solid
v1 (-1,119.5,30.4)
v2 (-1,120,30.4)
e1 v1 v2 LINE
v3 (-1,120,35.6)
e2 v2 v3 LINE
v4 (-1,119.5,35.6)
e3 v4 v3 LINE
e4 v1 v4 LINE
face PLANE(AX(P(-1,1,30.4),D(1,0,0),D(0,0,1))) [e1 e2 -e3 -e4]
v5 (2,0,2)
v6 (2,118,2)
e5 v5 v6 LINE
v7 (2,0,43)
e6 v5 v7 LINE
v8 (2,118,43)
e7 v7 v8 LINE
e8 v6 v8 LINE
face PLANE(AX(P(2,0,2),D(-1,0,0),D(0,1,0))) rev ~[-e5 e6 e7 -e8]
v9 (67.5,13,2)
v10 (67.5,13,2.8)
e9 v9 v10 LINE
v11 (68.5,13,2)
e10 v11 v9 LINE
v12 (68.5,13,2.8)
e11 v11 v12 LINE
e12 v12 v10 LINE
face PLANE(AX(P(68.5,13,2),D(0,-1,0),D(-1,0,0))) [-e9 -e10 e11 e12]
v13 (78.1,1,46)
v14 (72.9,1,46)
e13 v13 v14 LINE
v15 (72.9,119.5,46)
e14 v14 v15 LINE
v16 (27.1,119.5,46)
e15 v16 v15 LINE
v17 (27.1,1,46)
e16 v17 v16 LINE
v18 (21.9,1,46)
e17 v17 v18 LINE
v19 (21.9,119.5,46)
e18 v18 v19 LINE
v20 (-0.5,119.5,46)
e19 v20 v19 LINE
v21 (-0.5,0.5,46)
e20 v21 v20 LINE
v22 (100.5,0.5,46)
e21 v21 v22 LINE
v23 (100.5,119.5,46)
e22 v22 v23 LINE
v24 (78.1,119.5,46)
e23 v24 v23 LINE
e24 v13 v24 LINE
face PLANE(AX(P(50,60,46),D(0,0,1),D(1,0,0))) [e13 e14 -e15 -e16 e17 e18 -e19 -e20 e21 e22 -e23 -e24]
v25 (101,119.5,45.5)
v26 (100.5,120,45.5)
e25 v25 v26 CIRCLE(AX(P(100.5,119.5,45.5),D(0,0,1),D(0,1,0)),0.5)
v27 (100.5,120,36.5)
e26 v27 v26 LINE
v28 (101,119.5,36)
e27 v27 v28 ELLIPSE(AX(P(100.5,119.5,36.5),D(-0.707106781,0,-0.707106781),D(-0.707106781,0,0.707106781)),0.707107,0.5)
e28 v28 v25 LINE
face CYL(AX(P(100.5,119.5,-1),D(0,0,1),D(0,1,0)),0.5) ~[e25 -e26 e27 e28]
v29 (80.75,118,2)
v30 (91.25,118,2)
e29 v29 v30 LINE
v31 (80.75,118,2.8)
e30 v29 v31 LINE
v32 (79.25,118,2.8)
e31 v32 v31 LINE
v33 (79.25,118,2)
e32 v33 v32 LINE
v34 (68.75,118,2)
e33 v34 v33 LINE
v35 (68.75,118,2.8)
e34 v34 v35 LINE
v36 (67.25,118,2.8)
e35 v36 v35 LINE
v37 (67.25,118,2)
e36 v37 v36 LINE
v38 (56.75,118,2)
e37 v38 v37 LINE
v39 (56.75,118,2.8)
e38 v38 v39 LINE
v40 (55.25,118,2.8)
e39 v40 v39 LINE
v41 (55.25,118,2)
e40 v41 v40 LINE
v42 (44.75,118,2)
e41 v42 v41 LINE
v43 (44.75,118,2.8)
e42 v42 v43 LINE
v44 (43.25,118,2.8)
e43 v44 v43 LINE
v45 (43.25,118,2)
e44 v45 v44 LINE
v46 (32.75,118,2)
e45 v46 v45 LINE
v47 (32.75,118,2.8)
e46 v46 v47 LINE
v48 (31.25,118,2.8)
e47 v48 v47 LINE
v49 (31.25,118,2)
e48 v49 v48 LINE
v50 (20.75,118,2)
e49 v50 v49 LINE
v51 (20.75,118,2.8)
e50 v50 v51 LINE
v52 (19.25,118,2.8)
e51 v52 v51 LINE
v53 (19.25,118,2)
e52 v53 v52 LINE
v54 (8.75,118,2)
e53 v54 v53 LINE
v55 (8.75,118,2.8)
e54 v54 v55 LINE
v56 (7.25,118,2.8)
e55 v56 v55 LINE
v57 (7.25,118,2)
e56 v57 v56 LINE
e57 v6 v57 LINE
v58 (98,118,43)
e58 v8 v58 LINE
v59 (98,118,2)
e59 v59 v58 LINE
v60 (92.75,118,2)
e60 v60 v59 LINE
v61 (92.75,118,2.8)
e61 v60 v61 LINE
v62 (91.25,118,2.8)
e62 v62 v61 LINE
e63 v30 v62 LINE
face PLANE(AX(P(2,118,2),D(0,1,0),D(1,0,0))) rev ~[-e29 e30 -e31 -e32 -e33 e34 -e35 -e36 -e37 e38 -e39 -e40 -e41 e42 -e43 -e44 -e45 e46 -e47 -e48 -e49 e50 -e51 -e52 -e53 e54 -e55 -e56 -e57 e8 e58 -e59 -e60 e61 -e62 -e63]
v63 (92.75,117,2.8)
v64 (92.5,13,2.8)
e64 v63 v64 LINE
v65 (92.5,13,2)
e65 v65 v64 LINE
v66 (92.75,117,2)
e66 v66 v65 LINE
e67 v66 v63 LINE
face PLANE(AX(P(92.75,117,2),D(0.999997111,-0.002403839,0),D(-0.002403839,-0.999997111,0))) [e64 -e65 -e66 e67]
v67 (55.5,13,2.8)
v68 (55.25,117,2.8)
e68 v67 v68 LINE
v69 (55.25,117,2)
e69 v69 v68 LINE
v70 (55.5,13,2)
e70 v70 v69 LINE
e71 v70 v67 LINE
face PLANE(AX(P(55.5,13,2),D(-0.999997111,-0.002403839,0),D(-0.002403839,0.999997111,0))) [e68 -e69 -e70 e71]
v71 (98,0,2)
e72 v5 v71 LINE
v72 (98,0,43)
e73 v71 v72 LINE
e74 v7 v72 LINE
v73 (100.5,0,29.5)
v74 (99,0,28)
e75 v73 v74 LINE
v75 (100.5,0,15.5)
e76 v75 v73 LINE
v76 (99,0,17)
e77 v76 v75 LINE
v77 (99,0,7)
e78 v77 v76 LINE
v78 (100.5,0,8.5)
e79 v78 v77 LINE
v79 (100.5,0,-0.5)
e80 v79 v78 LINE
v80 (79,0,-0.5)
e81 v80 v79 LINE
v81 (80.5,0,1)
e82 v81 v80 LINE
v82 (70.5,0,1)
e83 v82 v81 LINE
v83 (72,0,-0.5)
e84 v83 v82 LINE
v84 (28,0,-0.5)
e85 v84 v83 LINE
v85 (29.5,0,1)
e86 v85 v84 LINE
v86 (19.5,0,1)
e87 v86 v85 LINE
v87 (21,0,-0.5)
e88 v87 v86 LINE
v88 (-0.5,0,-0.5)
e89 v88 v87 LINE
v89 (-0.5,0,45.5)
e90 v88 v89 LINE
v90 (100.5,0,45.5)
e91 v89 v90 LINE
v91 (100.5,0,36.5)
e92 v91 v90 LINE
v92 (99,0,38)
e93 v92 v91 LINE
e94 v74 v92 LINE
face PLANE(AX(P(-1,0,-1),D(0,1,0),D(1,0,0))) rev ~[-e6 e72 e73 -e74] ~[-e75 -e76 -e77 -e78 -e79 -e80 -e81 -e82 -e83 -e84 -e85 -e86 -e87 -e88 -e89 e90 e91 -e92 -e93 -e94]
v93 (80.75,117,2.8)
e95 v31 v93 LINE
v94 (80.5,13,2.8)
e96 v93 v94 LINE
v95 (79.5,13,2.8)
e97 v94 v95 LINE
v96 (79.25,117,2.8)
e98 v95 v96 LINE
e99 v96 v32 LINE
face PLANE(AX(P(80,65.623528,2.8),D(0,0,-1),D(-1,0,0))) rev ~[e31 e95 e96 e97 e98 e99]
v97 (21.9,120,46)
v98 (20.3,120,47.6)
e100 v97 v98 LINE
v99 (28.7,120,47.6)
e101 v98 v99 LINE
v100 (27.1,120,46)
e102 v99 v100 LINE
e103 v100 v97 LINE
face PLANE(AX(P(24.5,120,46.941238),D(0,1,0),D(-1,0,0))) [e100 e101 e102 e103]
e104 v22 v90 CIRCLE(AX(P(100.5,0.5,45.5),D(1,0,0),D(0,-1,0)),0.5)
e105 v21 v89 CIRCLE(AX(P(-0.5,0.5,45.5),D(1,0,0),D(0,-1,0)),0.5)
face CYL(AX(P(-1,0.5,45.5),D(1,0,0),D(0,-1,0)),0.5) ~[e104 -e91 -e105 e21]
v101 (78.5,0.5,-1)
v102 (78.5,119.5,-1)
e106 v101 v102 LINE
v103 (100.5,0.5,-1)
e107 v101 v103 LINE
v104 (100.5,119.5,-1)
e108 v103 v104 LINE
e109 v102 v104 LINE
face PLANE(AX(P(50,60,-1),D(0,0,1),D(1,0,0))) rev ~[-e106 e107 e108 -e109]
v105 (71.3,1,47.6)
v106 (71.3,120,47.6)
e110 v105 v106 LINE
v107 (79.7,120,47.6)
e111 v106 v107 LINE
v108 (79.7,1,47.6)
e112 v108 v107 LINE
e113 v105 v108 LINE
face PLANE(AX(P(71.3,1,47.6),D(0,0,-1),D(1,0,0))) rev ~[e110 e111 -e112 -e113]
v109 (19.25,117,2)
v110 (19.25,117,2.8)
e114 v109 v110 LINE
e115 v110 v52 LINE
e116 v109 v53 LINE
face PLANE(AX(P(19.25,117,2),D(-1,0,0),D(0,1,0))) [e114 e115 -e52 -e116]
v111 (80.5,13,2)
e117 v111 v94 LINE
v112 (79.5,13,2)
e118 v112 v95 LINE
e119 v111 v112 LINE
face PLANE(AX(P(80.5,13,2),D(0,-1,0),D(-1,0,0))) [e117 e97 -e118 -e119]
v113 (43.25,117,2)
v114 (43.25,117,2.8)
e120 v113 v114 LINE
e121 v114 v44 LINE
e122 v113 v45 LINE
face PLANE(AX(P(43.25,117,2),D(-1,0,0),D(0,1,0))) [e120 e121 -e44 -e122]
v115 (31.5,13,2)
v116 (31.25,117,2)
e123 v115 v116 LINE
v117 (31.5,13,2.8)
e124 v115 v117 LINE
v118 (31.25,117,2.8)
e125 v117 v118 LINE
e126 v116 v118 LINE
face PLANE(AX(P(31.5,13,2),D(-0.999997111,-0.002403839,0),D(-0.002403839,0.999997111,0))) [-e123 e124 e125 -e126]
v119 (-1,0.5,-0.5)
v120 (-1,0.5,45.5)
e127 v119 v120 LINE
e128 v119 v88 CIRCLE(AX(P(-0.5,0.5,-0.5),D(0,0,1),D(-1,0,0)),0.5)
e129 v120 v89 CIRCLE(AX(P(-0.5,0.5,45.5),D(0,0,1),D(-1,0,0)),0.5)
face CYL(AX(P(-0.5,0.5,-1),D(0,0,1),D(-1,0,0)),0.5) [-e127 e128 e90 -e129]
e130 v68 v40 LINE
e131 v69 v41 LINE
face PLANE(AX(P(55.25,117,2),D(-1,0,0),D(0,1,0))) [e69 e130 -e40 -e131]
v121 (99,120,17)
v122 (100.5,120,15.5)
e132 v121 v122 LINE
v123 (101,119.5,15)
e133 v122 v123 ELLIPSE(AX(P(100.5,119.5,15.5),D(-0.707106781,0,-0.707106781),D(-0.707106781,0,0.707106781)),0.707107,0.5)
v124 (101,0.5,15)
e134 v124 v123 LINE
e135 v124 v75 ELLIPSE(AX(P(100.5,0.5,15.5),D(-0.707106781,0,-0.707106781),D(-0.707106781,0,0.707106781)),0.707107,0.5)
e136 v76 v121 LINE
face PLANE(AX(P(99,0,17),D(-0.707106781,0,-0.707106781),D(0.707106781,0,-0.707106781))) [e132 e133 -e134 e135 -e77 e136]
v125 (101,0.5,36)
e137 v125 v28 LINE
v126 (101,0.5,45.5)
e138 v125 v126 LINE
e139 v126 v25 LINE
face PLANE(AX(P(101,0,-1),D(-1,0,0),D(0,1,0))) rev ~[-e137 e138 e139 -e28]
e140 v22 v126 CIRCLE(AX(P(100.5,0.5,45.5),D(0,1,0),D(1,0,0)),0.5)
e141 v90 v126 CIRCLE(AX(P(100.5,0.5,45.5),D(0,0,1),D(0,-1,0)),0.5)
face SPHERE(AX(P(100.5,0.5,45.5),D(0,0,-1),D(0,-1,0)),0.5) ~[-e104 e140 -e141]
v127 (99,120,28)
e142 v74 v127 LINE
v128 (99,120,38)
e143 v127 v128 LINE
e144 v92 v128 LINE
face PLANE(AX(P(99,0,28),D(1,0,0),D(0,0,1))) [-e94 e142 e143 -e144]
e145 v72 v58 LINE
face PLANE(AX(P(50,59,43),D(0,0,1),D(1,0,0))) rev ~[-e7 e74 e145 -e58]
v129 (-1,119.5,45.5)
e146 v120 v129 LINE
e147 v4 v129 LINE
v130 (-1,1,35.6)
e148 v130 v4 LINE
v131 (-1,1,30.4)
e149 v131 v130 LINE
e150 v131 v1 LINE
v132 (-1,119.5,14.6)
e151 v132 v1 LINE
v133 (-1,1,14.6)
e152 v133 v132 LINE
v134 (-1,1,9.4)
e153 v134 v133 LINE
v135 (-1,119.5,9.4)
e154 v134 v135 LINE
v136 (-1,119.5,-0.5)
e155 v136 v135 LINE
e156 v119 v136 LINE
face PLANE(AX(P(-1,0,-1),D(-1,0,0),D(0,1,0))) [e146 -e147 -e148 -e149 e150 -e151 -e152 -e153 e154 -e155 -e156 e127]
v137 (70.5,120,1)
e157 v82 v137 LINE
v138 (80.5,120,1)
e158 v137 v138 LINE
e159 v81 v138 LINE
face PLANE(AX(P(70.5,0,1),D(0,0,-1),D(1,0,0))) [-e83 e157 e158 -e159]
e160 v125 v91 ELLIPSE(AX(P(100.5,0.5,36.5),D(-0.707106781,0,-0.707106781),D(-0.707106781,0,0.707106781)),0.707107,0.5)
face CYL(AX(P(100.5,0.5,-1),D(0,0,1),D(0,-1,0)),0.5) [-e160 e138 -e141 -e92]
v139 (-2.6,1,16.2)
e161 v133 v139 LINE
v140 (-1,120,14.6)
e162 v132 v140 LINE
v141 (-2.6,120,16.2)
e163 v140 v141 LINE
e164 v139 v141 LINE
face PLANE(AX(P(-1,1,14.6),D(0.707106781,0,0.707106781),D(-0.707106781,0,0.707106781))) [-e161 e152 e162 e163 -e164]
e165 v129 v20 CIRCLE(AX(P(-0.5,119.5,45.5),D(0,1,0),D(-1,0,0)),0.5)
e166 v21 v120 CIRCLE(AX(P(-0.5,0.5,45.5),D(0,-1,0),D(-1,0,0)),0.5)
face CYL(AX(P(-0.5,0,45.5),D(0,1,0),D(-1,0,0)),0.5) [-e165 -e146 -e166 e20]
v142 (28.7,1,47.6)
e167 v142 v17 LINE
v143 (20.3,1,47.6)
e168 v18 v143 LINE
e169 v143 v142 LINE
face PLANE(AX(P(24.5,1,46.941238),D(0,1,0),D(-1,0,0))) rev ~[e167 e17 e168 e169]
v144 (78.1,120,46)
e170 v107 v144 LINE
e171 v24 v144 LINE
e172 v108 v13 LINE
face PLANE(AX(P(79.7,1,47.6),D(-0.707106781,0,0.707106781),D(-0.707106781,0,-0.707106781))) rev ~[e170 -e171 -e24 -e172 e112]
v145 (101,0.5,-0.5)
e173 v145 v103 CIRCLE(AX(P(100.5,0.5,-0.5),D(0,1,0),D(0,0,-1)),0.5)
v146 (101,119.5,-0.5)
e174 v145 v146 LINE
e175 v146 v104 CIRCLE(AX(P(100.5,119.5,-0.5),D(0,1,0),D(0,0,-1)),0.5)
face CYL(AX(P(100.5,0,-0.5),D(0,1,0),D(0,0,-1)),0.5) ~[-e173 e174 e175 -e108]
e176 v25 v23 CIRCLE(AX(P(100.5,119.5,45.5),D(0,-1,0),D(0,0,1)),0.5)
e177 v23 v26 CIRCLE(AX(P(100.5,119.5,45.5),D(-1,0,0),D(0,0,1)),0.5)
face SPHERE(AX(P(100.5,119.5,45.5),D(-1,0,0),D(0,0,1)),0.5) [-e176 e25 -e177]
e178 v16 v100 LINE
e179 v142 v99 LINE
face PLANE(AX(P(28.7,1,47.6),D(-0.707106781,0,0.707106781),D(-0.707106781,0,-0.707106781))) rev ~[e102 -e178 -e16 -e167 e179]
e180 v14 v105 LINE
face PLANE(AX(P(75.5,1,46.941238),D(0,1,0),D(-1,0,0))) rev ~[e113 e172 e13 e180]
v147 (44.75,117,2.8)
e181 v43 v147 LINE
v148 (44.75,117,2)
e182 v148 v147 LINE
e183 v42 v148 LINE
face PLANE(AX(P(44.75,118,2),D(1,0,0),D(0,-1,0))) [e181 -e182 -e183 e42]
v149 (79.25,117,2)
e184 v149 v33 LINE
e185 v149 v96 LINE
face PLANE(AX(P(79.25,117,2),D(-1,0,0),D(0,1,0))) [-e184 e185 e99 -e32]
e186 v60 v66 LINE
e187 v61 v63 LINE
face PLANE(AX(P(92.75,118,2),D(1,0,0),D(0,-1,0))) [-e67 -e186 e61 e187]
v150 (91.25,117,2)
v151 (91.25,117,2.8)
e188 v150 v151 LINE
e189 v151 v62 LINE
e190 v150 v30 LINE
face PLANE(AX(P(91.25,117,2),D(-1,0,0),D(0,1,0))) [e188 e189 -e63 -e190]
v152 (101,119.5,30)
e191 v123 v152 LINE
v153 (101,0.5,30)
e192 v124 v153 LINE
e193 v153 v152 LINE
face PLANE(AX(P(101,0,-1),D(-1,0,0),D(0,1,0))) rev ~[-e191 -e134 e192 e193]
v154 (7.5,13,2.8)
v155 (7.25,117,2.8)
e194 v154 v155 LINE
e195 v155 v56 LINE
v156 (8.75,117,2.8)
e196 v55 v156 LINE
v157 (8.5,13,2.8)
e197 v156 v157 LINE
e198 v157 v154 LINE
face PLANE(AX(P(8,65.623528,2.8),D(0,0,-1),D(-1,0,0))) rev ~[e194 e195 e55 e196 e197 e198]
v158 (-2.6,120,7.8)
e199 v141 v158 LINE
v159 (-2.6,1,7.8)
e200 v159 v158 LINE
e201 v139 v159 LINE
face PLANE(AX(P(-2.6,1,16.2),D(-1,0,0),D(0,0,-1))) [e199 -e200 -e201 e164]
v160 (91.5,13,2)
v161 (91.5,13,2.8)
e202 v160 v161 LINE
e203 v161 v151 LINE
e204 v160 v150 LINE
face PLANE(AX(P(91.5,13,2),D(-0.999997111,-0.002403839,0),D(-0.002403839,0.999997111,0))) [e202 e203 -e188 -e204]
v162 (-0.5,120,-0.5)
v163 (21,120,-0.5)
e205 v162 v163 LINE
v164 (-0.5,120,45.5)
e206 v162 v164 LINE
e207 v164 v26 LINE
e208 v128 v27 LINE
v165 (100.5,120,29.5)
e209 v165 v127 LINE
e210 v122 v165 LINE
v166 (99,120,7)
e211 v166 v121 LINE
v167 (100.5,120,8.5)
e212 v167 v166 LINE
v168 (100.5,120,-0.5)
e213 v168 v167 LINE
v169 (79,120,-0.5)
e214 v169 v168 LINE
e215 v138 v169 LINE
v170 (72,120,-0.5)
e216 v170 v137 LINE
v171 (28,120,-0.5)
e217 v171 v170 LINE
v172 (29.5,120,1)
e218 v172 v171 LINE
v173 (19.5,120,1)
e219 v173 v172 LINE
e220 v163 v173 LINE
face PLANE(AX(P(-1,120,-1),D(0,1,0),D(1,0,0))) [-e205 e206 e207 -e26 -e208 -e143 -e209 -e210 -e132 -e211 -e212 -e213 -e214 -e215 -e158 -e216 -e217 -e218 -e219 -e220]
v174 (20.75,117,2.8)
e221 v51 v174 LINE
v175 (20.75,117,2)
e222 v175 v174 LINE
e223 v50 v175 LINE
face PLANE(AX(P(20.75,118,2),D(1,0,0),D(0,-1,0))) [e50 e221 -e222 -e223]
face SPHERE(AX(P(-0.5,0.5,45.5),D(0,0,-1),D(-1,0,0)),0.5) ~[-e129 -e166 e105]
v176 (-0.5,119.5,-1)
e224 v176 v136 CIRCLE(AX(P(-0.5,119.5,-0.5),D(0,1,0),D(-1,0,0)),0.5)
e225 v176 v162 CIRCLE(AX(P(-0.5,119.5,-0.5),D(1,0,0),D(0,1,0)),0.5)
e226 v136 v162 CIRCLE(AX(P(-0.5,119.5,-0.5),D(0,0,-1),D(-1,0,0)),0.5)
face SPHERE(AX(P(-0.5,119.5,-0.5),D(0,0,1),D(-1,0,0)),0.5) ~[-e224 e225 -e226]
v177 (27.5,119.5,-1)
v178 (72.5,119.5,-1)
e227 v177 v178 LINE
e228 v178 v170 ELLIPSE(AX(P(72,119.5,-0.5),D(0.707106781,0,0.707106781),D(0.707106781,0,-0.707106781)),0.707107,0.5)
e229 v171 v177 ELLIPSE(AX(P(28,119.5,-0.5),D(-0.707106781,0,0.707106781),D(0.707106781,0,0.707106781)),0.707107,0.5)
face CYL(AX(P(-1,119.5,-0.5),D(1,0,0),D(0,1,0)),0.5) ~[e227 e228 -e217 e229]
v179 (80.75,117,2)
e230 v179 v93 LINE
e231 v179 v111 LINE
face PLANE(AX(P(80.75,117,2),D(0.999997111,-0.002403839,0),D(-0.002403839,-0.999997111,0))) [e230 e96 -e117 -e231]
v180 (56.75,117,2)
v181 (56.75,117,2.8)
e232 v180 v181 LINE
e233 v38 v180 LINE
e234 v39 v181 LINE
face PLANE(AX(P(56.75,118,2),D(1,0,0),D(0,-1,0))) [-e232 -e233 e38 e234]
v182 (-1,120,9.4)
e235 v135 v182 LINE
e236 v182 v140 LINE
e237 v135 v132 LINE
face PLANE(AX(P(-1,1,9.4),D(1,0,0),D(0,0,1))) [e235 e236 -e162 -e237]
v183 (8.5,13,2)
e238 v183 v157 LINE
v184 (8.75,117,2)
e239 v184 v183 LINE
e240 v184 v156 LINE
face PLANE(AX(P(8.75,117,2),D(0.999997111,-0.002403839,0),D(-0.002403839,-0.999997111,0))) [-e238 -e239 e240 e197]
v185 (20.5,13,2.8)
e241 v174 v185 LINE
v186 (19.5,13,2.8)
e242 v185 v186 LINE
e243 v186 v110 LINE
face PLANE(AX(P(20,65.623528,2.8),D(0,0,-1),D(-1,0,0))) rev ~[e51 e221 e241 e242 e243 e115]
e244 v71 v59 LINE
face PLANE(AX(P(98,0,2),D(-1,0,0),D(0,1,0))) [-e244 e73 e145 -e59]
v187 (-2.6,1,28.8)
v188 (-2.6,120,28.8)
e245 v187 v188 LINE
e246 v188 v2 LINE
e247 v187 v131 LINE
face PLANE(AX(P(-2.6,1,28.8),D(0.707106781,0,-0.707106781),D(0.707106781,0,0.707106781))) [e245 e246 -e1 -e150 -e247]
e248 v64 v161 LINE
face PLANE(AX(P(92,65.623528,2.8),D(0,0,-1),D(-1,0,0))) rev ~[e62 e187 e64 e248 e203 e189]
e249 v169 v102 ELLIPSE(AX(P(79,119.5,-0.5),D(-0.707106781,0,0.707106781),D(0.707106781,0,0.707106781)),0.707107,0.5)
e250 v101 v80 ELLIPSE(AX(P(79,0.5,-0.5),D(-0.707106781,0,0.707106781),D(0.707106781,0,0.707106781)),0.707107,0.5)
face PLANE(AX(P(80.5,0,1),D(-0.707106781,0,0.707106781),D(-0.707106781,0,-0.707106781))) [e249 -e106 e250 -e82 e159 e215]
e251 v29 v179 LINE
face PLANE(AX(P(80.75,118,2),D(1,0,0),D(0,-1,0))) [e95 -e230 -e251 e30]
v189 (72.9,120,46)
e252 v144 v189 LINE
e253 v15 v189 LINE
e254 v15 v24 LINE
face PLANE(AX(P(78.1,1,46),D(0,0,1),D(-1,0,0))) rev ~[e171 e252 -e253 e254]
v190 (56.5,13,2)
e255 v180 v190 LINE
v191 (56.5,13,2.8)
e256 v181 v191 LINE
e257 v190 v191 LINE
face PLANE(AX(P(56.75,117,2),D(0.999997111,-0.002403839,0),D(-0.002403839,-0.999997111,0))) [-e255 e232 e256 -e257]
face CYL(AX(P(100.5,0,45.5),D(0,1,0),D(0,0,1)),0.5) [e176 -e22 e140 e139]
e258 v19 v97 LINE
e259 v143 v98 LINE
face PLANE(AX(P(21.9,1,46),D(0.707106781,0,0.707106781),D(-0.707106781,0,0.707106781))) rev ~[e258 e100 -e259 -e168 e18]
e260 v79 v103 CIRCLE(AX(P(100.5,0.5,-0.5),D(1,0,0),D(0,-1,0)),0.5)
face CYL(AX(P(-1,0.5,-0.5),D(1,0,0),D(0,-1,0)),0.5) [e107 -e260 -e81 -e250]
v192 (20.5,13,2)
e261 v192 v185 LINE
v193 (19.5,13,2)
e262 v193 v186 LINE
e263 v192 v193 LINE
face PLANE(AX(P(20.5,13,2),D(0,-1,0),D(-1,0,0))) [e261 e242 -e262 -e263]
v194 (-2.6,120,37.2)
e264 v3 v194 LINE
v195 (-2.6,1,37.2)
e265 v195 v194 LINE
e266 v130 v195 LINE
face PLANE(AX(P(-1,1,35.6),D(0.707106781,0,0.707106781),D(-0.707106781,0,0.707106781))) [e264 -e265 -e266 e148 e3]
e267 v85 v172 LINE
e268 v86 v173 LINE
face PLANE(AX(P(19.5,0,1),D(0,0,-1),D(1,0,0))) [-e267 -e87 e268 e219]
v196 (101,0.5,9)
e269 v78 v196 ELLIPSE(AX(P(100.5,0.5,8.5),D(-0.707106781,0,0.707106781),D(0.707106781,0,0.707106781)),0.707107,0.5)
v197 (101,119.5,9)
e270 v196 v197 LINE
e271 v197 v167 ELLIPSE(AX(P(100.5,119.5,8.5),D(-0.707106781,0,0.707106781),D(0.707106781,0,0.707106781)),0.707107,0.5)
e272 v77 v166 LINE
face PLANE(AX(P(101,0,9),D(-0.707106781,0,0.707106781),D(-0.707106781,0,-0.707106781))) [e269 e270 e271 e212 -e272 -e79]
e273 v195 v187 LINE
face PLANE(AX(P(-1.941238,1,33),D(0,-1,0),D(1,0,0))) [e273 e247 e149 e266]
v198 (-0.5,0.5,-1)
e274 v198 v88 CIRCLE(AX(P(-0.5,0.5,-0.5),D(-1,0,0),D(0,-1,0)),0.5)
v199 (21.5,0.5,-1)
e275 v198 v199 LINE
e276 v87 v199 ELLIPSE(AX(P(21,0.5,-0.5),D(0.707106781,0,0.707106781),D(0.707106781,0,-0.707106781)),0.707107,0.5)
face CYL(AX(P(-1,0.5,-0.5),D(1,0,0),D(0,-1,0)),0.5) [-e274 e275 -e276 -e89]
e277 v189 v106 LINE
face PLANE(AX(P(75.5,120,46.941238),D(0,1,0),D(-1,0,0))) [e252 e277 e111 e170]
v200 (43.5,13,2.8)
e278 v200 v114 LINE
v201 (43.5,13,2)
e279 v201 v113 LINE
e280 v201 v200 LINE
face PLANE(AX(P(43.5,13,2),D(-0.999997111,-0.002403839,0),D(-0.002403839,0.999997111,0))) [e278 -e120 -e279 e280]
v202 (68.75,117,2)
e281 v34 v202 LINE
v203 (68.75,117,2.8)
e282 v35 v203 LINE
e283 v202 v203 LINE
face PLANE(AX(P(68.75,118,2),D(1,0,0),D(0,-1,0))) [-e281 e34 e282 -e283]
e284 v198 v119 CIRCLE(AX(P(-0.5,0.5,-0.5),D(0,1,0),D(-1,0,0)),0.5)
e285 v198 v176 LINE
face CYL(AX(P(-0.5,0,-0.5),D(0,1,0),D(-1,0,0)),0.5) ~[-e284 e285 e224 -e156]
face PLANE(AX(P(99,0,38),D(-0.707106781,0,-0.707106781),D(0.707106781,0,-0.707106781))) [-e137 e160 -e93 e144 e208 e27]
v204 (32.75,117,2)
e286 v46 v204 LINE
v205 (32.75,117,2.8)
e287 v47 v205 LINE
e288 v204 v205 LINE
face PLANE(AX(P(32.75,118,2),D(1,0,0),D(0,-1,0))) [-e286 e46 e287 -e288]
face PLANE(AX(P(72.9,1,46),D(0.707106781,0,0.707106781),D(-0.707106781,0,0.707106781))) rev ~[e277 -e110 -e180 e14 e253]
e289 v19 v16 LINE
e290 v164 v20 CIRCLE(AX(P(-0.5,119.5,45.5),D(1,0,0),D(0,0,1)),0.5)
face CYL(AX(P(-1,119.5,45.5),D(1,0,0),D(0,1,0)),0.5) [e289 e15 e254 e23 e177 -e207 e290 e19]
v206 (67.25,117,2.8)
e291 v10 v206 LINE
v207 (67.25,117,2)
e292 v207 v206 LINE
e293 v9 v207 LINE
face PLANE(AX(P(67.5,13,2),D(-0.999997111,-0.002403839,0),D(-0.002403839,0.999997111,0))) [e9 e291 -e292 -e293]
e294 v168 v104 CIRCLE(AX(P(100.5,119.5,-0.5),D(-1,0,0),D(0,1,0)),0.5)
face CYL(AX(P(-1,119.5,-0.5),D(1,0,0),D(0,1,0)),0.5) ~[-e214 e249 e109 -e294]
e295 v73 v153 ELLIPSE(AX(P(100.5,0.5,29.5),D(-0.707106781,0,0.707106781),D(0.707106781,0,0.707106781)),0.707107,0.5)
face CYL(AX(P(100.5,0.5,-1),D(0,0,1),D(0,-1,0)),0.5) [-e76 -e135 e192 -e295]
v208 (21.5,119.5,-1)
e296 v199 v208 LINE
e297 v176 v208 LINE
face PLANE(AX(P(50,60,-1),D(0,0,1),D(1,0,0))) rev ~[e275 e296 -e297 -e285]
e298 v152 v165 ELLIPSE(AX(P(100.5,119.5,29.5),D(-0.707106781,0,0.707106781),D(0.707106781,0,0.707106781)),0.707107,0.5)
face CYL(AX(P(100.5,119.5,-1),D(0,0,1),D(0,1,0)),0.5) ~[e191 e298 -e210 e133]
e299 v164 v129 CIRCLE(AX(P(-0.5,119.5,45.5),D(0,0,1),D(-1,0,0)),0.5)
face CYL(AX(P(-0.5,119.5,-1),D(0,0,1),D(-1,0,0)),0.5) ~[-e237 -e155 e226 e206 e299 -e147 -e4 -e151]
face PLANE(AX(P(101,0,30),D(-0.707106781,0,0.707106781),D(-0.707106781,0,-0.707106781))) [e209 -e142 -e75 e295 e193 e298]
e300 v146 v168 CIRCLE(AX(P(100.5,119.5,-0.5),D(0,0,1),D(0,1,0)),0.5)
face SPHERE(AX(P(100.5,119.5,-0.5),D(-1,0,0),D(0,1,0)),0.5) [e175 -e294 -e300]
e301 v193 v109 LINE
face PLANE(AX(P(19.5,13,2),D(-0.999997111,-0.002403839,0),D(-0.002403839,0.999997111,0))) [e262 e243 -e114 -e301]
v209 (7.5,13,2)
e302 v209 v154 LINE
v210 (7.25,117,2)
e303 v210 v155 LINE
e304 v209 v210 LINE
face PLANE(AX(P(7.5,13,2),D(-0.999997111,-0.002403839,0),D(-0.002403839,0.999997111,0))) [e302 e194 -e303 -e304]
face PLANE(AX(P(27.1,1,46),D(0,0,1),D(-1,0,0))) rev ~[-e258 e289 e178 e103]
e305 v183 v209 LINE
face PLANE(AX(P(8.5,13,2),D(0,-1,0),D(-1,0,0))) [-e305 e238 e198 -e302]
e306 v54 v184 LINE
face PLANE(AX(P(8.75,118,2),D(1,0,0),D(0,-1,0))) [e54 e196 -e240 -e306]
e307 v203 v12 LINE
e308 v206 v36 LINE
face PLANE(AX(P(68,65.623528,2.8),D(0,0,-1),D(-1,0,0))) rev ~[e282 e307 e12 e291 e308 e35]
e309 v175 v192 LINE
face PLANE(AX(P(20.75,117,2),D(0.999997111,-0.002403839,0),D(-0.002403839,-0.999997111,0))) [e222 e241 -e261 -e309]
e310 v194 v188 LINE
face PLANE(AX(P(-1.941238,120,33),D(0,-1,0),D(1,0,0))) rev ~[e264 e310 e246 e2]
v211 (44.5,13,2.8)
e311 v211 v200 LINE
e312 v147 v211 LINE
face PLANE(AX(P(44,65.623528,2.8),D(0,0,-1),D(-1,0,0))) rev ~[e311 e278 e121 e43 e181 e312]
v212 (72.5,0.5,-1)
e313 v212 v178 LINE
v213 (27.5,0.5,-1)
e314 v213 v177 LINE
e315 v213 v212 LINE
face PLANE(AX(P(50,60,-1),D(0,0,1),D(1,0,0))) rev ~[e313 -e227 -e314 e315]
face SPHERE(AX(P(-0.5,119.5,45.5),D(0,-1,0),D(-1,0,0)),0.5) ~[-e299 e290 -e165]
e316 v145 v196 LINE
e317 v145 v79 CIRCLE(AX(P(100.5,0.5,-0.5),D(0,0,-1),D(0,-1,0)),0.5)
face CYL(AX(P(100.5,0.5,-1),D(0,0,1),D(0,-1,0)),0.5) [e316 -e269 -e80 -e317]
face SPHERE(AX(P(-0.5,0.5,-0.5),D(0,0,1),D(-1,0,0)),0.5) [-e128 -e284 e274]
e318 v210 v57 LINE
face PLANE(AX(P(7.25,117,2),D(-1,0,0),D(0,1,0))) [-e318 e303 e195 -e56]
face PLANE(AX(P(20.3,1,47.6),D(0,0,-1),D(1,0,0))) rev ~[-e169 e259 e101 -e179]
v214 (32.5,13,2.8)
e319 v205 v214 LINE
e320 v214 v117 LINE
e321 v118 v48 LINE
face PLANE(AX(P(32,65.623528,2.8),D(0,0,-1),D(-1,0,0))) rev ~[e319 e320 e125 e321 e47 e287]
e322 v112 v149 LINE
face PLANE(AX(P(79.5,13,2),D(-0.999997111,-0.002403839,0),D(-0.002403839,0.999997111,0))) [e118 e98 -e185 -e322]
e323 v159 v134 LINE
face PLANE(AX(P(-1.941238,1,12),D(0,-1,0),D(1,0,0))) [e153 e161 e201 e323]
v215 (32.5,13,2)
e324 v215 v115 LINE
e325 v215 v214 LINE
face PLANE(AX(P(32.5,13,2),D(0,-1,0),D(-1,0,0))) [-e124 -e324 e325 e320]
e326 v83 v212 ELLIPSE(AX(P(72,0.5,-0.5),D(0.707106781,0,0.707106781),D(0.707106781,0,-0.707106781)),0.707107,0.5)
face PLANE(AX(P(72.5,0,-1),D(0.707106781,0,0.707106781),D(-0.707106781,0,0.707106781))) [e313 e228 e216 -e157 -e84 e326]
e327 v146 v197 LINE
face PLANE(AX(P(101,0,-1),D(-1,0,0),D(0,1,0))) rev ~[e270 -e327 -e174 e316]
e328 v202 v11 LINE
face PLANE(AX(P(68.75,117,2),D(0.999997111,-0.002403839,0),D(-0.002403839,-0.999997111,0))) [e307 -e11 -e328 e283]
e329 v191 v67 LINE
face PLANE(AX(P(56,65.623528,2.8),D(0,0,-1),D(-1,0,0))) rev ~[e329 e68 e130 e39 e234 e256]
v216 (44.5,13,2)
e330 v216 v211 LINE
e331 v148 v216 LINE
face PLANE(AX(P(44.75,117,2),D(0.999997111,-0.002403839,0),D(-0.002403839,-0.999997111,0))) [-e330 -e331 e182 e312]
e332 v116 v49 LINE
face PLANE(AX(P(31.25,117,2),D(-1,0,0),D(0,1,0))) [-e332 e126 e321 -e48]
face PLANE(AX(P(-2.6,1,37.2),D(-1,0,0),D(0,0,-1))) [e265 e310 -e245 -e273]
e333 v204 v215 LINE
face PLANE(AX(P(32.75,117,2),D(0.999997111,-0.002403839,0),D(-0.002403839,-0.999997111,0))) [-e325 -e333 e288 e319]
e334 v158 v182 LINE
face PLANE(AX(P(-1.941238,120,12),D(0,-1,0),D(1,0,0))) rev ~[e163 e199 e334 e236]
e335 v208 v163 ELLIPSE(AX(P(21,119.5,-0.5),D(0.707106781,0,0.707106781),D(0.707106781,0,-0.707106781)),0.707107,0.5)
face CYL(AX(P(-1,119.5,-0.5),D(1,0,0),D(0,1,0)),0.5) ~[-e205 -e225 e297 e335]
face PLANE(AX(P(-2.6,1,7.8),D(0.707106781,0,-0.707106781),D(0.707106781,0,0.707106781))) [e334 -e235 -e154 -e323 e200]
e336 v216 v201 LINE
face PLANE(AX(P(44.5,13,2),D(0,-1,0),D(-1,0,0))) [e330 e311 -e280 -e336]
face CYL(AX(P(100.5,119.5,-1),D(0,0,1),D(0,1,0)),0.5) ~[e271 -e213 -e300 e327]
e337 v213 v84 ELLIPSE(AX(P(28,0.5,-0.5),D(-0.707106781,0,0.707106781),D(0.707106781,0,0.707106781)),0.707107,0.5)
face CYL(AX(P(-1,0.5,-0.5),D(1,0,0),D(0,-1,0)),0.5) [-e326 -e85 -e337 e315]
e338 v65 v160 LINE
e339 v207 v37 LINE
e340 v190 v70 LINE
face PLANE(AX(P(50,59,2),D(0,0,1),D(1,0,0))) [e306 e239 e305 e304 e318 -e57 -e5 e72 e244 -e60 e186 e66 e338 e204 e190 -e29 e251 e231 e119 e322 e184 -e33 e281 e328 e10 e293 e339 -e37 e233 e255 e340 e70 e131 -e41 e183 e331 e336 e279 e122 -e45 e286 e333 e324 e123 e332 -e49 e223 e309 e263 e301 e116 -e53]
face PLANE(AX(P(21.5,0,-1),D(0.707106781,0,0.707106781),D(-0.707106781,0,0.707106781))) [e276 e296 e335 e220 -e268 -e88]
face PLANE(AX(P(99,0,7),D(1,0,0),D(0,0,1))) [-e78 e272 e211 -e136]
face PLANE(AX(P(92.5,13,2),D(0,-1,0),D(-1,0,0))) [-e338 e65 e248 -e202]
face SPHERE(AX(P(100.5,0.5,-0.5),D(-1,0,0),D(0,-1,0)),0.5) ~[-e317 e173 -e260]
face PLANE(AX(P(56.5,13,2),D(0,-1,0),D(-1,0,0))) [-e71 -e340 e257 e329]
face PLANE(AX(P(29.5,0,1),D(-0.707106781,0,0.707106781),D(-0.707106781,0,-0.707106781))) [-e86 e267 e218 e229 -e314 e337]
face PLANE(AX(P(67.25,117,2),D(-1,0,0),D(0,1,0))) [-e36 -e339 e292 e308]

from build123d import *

# Parameters (mm, degrees)
EXTRUDE004_DEPTH                     = 120
EXTRUDE004_ONTO_SKETCH004_ROLL_ANGLE = 90
ARRAY005_X_COUNT                     = 2
ARRAY005_X_PITCH                     = 51
EXTRUDE001_DEPTH                     = 120
EXTRUDE001_ONTO_SKETCH001_ROLL_ANGLE = 90
ARRAY003_Z_COUNT                     = 2
ARRAY003_Z_PITCH                     = 21
BOX001_W                             = 96
BOX001_H                             = 118
BOX001_DEPTH                         = 41
BOX_W                                = 102
BOX_H                                = 120
BOX_DEPTH                            = 47
FILLET_R                             = 0.5
EXTRUDE003_DEPTH                     = 119
EXTRUDE003_ONTO_SKETCH003_ROLL_ANGLE = 90
ARRAY_X_COUNT                        = 2
ARRAY_X_PITCH                        = 51
EXTRUDE002_DEPTH                     = 119
EXTRUDE002_ONTO_SKETCH002_ROLL_ANGLE = 90
ARRAY004_Z_COUNT                     = 2
ARRAY004_Z_PITCH                     = 21
EXTRUDE_DEPTH                        = 0.8
ARRAY002_X_COUNT                     = 8
ARRAY002_X_PITCH                     = 12


with BuildPart() as bottomsideguidearray:
    # Sketch004 as drawn → Extrude004 (new)
    with BuildSketch(Plane.XY):
        Polygon((-6, 1), (4, 1), (2, -1), (-4, -1), align=None)
    extrude(amount=-EXTRUDE004_DEPTH)


with BuildPart() as bottomsideguidearray_1:
    # Extrude004 onto Sketch004 roll: moved
    add(bottomsideguidearray.part.rotate(Axis((0, 0, 0), (1, 0, 0)), EXTRUDE004_ONTO_SKETCH004_ROLL_ANGLE))


with BuildPart() as bottomsideguidearray_2:
    # Extrude004 onto Sketch004 placement: moved
    add(bottomsideguidearray_1.part)


with BuildPart() as bottomsideguidearray_3:
    # Extrude004 placement: moved
    add(bottomsideguidearray_2.part.moved(Location((25.5, 0, 0))))

    # Array005 X: BottomSideGuideArray ×2


with BuildPart() as bottomsideguidearray_4:
    add(bottomsideguidearray_3.part)
    with Locations(*[(i * ARRAY005_X_PITCH, 0, 0) for i in range(1, ARRAY005_X_COUNT)]):
        add(bottomsideguidearray_3.part)


with BuildPart() as guidegaps:
    # Sketch001 as drawn → Extrude001 (new)
    with BuildSketch(Plane.XY):
        Polygon((0, 0), (0, 10), (2, 8), (2, 2), align=None)
    extrude(amount=-EXTRUDE001_DEPTH)


with BuildPart() as guidegaps_1:
    # Extrude001 onto Sketch001 roll: moved
    add(guidegaps.part.rotate(Axis((0, 0, 0), (1, 0, 0)), EXTRUDE001_ONTO_SKETCH001_ROLL_ANGLE))


with BuildPart() as guidegaps_2:
    # Extrude001 onto Sketch001 placement: moved
    add(guidegaps_1.part.moved(Location((99, 0, 7))))

    # Array003 Z: GuideGaps ×2


with BuildPart() as guidegaps_3:
    add(guidegaps_2.part)
    with Locations(*[(0, 0, i * ARRAY003_Z_PITCH) for i in range(1, ARRAY003_Z_COUNT)]):
        add(guidegaps_2.part)

    # Fusion003: union BottomSideGuideArray
    add(bottomsideguidearray_4.part)


with BuildPart() as inner_box:
    # Box001 → Box001 (new body)
    with BuildSketch(Plane(origin=(2, 0, 2), x_dir=(1, 0, 0), z_dir=(0, 0, 1))):
        with Locations((48, 59)):
            Rectangle(BOX001_W, BOX001_H)
    extrude(amount=BOX001_DEPTH)


with BuildPart() as filletedcase:
    # Box → Box (new body)
    with BuildSketch(Plane(origin=(-1, 0, -1), x_dir=(1, 0, 0), z_dir=(0, 0, 1))):
        with Locations((51, 60)):
            Rectangle(BOX_W, BOX_H)
    extrude(amount=BOX_DEPTH)

    # Cut: cut Inner Box
    add(inner_box.part, mode=Mode.SUBTRACT)

    # Fillet
    fillet_edges = [filletedcase.edges().sort_by_distance(p)[0] for p in [
        (-1, 0, 22.5),
        (-1, 60, 46),
        (-1, 120, 22.5),
        (-1, 60, -1),
        (50, 0, -1),
        (101, 0, 22.5),
        (50, 0, 46),
        (50, 120, 46),
        (101, 60, 46),
        (50, 120, -1),
        (101, 120, 22.5),
        (101, 60, -1),
    ]]
    fillet(fillet_edges, radius=FILLET_R)


with BuildPart() as topsideguidearray:
    # Sketch003 as drawn → Extrude003 (new)
    with BuildSketch(Plane.XY):
        Polygon((-5.2, 47.6), (3.2, 47.6), (1.6, 46), (-3.6, 46), align=None)
    extrude(amount=-EXTRUDE003_DEPTH)


with BuildPart() as topsideguidearray_1:
    # Extrude003 onto Sketch003 roll: moved
    add(topsideguidearray.part.rotate(Axis((0, 0, 0), (1, 0, 0)), EXTRUDE003_ONTO_SKETCH003_ROLL_ANGLE))


with BuildPart() as topsideguidearray_2:
    # Extrude003 onto Sketch003 placement: moved
    add(topsideguidearray_1.part)


with BuildPart() as topsideguidearray_3:
    # Extrude003 placement: moved
    add(topsideguidearray_2.part.moved(Location((25.5, 1, 0))))

    # Array X: TopSideGuideArray ×2


with BuildPart() as topsideguidearray_4:
    add(topsideguidearray_3.part)
    with Locations(*[(i * ARRAY_X_PITCH, 0, 0) for i in range(1, ARRAY_X_COUNT)]):
        add(topsideguidearray_3.part)


with BuildPart() as guiderods:
    # Sketch002 as drawn → Extrude002 (new)
    with BuildSketch(Plane.XY):
        Polygon((0.4, 9.2), (0.4, 0.8), (2, 2.4), (2, 7.6), align=None)
    extrude(amount=-EXTRUDE002_DEPTH)


with BuildPart() as guiderods_1:
    # Extrude002 onto Sketch002 roll: moved
    add(guiderods.part.rotate(Axis((0, 0, 0), (1, 0, 0)), EXTRUDE002_ONTO_SKETCH002_ROLL_ANGLE))


with BuildPart() as guiderods_2:
    # Extrude002 onto Sketch002 placement: moved
    add(guiderods_1.part.moved(Location((-1, 0, 7))))


with BuildPart() as guiderods_3:
    # Extrude002 placement: moved
    add(guiderods_2.part.moved(Location((-2, 1, 0))))

    # Array004 Z: GuideRods ×2


with BuildPart() as guiderods_4:
    add(guiderods_3.part)
    with Locations(*[(0, 0, i * ARRAY004_Z_PITCH) for i in range(1, ARRAY004_Z_COUNT)]):
        add(guiderods_3.part)

    # Fusion002: union TopSideGuideArray
    add(topsideguidearray_4.part)


with BuildPart() as finalcabinet:
    # Sketch → Extrude (new body)
    with BuildSketch(Plane.XY):
        Polygon((0.5, 0), (0.25, 104), (0.25, 105), (1.75, 105), (1.75, 104), (1.5, 0), align=None)
    extrude(amount=EXTRUDE_DEPTH)

    # Array002 X: FinalCabinet ×8


with BuildPart() as finalcabinet_1:
    add(finalcabinet.part)
    with Locations(*[(i * ARRAY002_X_PITCH, 0, 0) for i in range(1, ARRAY002_X_COUNT)]):
        add(finalcabinet.part)


with BuildPart() as finalcabinet_2:
    # Array002 placement: moved
    add(finalcabinet_1.part.moved(Location((7, 13, 2))))

    # Fusion: union FilletedCase, GuideRods
    add(filletedcase.part)
    add(guiderods_4.part)

    # Cut001: cut GuideGaps
    add(guidegaps_3.part, mode=Mode.SUBTRACT)


solid = finalcabinet_2.part
